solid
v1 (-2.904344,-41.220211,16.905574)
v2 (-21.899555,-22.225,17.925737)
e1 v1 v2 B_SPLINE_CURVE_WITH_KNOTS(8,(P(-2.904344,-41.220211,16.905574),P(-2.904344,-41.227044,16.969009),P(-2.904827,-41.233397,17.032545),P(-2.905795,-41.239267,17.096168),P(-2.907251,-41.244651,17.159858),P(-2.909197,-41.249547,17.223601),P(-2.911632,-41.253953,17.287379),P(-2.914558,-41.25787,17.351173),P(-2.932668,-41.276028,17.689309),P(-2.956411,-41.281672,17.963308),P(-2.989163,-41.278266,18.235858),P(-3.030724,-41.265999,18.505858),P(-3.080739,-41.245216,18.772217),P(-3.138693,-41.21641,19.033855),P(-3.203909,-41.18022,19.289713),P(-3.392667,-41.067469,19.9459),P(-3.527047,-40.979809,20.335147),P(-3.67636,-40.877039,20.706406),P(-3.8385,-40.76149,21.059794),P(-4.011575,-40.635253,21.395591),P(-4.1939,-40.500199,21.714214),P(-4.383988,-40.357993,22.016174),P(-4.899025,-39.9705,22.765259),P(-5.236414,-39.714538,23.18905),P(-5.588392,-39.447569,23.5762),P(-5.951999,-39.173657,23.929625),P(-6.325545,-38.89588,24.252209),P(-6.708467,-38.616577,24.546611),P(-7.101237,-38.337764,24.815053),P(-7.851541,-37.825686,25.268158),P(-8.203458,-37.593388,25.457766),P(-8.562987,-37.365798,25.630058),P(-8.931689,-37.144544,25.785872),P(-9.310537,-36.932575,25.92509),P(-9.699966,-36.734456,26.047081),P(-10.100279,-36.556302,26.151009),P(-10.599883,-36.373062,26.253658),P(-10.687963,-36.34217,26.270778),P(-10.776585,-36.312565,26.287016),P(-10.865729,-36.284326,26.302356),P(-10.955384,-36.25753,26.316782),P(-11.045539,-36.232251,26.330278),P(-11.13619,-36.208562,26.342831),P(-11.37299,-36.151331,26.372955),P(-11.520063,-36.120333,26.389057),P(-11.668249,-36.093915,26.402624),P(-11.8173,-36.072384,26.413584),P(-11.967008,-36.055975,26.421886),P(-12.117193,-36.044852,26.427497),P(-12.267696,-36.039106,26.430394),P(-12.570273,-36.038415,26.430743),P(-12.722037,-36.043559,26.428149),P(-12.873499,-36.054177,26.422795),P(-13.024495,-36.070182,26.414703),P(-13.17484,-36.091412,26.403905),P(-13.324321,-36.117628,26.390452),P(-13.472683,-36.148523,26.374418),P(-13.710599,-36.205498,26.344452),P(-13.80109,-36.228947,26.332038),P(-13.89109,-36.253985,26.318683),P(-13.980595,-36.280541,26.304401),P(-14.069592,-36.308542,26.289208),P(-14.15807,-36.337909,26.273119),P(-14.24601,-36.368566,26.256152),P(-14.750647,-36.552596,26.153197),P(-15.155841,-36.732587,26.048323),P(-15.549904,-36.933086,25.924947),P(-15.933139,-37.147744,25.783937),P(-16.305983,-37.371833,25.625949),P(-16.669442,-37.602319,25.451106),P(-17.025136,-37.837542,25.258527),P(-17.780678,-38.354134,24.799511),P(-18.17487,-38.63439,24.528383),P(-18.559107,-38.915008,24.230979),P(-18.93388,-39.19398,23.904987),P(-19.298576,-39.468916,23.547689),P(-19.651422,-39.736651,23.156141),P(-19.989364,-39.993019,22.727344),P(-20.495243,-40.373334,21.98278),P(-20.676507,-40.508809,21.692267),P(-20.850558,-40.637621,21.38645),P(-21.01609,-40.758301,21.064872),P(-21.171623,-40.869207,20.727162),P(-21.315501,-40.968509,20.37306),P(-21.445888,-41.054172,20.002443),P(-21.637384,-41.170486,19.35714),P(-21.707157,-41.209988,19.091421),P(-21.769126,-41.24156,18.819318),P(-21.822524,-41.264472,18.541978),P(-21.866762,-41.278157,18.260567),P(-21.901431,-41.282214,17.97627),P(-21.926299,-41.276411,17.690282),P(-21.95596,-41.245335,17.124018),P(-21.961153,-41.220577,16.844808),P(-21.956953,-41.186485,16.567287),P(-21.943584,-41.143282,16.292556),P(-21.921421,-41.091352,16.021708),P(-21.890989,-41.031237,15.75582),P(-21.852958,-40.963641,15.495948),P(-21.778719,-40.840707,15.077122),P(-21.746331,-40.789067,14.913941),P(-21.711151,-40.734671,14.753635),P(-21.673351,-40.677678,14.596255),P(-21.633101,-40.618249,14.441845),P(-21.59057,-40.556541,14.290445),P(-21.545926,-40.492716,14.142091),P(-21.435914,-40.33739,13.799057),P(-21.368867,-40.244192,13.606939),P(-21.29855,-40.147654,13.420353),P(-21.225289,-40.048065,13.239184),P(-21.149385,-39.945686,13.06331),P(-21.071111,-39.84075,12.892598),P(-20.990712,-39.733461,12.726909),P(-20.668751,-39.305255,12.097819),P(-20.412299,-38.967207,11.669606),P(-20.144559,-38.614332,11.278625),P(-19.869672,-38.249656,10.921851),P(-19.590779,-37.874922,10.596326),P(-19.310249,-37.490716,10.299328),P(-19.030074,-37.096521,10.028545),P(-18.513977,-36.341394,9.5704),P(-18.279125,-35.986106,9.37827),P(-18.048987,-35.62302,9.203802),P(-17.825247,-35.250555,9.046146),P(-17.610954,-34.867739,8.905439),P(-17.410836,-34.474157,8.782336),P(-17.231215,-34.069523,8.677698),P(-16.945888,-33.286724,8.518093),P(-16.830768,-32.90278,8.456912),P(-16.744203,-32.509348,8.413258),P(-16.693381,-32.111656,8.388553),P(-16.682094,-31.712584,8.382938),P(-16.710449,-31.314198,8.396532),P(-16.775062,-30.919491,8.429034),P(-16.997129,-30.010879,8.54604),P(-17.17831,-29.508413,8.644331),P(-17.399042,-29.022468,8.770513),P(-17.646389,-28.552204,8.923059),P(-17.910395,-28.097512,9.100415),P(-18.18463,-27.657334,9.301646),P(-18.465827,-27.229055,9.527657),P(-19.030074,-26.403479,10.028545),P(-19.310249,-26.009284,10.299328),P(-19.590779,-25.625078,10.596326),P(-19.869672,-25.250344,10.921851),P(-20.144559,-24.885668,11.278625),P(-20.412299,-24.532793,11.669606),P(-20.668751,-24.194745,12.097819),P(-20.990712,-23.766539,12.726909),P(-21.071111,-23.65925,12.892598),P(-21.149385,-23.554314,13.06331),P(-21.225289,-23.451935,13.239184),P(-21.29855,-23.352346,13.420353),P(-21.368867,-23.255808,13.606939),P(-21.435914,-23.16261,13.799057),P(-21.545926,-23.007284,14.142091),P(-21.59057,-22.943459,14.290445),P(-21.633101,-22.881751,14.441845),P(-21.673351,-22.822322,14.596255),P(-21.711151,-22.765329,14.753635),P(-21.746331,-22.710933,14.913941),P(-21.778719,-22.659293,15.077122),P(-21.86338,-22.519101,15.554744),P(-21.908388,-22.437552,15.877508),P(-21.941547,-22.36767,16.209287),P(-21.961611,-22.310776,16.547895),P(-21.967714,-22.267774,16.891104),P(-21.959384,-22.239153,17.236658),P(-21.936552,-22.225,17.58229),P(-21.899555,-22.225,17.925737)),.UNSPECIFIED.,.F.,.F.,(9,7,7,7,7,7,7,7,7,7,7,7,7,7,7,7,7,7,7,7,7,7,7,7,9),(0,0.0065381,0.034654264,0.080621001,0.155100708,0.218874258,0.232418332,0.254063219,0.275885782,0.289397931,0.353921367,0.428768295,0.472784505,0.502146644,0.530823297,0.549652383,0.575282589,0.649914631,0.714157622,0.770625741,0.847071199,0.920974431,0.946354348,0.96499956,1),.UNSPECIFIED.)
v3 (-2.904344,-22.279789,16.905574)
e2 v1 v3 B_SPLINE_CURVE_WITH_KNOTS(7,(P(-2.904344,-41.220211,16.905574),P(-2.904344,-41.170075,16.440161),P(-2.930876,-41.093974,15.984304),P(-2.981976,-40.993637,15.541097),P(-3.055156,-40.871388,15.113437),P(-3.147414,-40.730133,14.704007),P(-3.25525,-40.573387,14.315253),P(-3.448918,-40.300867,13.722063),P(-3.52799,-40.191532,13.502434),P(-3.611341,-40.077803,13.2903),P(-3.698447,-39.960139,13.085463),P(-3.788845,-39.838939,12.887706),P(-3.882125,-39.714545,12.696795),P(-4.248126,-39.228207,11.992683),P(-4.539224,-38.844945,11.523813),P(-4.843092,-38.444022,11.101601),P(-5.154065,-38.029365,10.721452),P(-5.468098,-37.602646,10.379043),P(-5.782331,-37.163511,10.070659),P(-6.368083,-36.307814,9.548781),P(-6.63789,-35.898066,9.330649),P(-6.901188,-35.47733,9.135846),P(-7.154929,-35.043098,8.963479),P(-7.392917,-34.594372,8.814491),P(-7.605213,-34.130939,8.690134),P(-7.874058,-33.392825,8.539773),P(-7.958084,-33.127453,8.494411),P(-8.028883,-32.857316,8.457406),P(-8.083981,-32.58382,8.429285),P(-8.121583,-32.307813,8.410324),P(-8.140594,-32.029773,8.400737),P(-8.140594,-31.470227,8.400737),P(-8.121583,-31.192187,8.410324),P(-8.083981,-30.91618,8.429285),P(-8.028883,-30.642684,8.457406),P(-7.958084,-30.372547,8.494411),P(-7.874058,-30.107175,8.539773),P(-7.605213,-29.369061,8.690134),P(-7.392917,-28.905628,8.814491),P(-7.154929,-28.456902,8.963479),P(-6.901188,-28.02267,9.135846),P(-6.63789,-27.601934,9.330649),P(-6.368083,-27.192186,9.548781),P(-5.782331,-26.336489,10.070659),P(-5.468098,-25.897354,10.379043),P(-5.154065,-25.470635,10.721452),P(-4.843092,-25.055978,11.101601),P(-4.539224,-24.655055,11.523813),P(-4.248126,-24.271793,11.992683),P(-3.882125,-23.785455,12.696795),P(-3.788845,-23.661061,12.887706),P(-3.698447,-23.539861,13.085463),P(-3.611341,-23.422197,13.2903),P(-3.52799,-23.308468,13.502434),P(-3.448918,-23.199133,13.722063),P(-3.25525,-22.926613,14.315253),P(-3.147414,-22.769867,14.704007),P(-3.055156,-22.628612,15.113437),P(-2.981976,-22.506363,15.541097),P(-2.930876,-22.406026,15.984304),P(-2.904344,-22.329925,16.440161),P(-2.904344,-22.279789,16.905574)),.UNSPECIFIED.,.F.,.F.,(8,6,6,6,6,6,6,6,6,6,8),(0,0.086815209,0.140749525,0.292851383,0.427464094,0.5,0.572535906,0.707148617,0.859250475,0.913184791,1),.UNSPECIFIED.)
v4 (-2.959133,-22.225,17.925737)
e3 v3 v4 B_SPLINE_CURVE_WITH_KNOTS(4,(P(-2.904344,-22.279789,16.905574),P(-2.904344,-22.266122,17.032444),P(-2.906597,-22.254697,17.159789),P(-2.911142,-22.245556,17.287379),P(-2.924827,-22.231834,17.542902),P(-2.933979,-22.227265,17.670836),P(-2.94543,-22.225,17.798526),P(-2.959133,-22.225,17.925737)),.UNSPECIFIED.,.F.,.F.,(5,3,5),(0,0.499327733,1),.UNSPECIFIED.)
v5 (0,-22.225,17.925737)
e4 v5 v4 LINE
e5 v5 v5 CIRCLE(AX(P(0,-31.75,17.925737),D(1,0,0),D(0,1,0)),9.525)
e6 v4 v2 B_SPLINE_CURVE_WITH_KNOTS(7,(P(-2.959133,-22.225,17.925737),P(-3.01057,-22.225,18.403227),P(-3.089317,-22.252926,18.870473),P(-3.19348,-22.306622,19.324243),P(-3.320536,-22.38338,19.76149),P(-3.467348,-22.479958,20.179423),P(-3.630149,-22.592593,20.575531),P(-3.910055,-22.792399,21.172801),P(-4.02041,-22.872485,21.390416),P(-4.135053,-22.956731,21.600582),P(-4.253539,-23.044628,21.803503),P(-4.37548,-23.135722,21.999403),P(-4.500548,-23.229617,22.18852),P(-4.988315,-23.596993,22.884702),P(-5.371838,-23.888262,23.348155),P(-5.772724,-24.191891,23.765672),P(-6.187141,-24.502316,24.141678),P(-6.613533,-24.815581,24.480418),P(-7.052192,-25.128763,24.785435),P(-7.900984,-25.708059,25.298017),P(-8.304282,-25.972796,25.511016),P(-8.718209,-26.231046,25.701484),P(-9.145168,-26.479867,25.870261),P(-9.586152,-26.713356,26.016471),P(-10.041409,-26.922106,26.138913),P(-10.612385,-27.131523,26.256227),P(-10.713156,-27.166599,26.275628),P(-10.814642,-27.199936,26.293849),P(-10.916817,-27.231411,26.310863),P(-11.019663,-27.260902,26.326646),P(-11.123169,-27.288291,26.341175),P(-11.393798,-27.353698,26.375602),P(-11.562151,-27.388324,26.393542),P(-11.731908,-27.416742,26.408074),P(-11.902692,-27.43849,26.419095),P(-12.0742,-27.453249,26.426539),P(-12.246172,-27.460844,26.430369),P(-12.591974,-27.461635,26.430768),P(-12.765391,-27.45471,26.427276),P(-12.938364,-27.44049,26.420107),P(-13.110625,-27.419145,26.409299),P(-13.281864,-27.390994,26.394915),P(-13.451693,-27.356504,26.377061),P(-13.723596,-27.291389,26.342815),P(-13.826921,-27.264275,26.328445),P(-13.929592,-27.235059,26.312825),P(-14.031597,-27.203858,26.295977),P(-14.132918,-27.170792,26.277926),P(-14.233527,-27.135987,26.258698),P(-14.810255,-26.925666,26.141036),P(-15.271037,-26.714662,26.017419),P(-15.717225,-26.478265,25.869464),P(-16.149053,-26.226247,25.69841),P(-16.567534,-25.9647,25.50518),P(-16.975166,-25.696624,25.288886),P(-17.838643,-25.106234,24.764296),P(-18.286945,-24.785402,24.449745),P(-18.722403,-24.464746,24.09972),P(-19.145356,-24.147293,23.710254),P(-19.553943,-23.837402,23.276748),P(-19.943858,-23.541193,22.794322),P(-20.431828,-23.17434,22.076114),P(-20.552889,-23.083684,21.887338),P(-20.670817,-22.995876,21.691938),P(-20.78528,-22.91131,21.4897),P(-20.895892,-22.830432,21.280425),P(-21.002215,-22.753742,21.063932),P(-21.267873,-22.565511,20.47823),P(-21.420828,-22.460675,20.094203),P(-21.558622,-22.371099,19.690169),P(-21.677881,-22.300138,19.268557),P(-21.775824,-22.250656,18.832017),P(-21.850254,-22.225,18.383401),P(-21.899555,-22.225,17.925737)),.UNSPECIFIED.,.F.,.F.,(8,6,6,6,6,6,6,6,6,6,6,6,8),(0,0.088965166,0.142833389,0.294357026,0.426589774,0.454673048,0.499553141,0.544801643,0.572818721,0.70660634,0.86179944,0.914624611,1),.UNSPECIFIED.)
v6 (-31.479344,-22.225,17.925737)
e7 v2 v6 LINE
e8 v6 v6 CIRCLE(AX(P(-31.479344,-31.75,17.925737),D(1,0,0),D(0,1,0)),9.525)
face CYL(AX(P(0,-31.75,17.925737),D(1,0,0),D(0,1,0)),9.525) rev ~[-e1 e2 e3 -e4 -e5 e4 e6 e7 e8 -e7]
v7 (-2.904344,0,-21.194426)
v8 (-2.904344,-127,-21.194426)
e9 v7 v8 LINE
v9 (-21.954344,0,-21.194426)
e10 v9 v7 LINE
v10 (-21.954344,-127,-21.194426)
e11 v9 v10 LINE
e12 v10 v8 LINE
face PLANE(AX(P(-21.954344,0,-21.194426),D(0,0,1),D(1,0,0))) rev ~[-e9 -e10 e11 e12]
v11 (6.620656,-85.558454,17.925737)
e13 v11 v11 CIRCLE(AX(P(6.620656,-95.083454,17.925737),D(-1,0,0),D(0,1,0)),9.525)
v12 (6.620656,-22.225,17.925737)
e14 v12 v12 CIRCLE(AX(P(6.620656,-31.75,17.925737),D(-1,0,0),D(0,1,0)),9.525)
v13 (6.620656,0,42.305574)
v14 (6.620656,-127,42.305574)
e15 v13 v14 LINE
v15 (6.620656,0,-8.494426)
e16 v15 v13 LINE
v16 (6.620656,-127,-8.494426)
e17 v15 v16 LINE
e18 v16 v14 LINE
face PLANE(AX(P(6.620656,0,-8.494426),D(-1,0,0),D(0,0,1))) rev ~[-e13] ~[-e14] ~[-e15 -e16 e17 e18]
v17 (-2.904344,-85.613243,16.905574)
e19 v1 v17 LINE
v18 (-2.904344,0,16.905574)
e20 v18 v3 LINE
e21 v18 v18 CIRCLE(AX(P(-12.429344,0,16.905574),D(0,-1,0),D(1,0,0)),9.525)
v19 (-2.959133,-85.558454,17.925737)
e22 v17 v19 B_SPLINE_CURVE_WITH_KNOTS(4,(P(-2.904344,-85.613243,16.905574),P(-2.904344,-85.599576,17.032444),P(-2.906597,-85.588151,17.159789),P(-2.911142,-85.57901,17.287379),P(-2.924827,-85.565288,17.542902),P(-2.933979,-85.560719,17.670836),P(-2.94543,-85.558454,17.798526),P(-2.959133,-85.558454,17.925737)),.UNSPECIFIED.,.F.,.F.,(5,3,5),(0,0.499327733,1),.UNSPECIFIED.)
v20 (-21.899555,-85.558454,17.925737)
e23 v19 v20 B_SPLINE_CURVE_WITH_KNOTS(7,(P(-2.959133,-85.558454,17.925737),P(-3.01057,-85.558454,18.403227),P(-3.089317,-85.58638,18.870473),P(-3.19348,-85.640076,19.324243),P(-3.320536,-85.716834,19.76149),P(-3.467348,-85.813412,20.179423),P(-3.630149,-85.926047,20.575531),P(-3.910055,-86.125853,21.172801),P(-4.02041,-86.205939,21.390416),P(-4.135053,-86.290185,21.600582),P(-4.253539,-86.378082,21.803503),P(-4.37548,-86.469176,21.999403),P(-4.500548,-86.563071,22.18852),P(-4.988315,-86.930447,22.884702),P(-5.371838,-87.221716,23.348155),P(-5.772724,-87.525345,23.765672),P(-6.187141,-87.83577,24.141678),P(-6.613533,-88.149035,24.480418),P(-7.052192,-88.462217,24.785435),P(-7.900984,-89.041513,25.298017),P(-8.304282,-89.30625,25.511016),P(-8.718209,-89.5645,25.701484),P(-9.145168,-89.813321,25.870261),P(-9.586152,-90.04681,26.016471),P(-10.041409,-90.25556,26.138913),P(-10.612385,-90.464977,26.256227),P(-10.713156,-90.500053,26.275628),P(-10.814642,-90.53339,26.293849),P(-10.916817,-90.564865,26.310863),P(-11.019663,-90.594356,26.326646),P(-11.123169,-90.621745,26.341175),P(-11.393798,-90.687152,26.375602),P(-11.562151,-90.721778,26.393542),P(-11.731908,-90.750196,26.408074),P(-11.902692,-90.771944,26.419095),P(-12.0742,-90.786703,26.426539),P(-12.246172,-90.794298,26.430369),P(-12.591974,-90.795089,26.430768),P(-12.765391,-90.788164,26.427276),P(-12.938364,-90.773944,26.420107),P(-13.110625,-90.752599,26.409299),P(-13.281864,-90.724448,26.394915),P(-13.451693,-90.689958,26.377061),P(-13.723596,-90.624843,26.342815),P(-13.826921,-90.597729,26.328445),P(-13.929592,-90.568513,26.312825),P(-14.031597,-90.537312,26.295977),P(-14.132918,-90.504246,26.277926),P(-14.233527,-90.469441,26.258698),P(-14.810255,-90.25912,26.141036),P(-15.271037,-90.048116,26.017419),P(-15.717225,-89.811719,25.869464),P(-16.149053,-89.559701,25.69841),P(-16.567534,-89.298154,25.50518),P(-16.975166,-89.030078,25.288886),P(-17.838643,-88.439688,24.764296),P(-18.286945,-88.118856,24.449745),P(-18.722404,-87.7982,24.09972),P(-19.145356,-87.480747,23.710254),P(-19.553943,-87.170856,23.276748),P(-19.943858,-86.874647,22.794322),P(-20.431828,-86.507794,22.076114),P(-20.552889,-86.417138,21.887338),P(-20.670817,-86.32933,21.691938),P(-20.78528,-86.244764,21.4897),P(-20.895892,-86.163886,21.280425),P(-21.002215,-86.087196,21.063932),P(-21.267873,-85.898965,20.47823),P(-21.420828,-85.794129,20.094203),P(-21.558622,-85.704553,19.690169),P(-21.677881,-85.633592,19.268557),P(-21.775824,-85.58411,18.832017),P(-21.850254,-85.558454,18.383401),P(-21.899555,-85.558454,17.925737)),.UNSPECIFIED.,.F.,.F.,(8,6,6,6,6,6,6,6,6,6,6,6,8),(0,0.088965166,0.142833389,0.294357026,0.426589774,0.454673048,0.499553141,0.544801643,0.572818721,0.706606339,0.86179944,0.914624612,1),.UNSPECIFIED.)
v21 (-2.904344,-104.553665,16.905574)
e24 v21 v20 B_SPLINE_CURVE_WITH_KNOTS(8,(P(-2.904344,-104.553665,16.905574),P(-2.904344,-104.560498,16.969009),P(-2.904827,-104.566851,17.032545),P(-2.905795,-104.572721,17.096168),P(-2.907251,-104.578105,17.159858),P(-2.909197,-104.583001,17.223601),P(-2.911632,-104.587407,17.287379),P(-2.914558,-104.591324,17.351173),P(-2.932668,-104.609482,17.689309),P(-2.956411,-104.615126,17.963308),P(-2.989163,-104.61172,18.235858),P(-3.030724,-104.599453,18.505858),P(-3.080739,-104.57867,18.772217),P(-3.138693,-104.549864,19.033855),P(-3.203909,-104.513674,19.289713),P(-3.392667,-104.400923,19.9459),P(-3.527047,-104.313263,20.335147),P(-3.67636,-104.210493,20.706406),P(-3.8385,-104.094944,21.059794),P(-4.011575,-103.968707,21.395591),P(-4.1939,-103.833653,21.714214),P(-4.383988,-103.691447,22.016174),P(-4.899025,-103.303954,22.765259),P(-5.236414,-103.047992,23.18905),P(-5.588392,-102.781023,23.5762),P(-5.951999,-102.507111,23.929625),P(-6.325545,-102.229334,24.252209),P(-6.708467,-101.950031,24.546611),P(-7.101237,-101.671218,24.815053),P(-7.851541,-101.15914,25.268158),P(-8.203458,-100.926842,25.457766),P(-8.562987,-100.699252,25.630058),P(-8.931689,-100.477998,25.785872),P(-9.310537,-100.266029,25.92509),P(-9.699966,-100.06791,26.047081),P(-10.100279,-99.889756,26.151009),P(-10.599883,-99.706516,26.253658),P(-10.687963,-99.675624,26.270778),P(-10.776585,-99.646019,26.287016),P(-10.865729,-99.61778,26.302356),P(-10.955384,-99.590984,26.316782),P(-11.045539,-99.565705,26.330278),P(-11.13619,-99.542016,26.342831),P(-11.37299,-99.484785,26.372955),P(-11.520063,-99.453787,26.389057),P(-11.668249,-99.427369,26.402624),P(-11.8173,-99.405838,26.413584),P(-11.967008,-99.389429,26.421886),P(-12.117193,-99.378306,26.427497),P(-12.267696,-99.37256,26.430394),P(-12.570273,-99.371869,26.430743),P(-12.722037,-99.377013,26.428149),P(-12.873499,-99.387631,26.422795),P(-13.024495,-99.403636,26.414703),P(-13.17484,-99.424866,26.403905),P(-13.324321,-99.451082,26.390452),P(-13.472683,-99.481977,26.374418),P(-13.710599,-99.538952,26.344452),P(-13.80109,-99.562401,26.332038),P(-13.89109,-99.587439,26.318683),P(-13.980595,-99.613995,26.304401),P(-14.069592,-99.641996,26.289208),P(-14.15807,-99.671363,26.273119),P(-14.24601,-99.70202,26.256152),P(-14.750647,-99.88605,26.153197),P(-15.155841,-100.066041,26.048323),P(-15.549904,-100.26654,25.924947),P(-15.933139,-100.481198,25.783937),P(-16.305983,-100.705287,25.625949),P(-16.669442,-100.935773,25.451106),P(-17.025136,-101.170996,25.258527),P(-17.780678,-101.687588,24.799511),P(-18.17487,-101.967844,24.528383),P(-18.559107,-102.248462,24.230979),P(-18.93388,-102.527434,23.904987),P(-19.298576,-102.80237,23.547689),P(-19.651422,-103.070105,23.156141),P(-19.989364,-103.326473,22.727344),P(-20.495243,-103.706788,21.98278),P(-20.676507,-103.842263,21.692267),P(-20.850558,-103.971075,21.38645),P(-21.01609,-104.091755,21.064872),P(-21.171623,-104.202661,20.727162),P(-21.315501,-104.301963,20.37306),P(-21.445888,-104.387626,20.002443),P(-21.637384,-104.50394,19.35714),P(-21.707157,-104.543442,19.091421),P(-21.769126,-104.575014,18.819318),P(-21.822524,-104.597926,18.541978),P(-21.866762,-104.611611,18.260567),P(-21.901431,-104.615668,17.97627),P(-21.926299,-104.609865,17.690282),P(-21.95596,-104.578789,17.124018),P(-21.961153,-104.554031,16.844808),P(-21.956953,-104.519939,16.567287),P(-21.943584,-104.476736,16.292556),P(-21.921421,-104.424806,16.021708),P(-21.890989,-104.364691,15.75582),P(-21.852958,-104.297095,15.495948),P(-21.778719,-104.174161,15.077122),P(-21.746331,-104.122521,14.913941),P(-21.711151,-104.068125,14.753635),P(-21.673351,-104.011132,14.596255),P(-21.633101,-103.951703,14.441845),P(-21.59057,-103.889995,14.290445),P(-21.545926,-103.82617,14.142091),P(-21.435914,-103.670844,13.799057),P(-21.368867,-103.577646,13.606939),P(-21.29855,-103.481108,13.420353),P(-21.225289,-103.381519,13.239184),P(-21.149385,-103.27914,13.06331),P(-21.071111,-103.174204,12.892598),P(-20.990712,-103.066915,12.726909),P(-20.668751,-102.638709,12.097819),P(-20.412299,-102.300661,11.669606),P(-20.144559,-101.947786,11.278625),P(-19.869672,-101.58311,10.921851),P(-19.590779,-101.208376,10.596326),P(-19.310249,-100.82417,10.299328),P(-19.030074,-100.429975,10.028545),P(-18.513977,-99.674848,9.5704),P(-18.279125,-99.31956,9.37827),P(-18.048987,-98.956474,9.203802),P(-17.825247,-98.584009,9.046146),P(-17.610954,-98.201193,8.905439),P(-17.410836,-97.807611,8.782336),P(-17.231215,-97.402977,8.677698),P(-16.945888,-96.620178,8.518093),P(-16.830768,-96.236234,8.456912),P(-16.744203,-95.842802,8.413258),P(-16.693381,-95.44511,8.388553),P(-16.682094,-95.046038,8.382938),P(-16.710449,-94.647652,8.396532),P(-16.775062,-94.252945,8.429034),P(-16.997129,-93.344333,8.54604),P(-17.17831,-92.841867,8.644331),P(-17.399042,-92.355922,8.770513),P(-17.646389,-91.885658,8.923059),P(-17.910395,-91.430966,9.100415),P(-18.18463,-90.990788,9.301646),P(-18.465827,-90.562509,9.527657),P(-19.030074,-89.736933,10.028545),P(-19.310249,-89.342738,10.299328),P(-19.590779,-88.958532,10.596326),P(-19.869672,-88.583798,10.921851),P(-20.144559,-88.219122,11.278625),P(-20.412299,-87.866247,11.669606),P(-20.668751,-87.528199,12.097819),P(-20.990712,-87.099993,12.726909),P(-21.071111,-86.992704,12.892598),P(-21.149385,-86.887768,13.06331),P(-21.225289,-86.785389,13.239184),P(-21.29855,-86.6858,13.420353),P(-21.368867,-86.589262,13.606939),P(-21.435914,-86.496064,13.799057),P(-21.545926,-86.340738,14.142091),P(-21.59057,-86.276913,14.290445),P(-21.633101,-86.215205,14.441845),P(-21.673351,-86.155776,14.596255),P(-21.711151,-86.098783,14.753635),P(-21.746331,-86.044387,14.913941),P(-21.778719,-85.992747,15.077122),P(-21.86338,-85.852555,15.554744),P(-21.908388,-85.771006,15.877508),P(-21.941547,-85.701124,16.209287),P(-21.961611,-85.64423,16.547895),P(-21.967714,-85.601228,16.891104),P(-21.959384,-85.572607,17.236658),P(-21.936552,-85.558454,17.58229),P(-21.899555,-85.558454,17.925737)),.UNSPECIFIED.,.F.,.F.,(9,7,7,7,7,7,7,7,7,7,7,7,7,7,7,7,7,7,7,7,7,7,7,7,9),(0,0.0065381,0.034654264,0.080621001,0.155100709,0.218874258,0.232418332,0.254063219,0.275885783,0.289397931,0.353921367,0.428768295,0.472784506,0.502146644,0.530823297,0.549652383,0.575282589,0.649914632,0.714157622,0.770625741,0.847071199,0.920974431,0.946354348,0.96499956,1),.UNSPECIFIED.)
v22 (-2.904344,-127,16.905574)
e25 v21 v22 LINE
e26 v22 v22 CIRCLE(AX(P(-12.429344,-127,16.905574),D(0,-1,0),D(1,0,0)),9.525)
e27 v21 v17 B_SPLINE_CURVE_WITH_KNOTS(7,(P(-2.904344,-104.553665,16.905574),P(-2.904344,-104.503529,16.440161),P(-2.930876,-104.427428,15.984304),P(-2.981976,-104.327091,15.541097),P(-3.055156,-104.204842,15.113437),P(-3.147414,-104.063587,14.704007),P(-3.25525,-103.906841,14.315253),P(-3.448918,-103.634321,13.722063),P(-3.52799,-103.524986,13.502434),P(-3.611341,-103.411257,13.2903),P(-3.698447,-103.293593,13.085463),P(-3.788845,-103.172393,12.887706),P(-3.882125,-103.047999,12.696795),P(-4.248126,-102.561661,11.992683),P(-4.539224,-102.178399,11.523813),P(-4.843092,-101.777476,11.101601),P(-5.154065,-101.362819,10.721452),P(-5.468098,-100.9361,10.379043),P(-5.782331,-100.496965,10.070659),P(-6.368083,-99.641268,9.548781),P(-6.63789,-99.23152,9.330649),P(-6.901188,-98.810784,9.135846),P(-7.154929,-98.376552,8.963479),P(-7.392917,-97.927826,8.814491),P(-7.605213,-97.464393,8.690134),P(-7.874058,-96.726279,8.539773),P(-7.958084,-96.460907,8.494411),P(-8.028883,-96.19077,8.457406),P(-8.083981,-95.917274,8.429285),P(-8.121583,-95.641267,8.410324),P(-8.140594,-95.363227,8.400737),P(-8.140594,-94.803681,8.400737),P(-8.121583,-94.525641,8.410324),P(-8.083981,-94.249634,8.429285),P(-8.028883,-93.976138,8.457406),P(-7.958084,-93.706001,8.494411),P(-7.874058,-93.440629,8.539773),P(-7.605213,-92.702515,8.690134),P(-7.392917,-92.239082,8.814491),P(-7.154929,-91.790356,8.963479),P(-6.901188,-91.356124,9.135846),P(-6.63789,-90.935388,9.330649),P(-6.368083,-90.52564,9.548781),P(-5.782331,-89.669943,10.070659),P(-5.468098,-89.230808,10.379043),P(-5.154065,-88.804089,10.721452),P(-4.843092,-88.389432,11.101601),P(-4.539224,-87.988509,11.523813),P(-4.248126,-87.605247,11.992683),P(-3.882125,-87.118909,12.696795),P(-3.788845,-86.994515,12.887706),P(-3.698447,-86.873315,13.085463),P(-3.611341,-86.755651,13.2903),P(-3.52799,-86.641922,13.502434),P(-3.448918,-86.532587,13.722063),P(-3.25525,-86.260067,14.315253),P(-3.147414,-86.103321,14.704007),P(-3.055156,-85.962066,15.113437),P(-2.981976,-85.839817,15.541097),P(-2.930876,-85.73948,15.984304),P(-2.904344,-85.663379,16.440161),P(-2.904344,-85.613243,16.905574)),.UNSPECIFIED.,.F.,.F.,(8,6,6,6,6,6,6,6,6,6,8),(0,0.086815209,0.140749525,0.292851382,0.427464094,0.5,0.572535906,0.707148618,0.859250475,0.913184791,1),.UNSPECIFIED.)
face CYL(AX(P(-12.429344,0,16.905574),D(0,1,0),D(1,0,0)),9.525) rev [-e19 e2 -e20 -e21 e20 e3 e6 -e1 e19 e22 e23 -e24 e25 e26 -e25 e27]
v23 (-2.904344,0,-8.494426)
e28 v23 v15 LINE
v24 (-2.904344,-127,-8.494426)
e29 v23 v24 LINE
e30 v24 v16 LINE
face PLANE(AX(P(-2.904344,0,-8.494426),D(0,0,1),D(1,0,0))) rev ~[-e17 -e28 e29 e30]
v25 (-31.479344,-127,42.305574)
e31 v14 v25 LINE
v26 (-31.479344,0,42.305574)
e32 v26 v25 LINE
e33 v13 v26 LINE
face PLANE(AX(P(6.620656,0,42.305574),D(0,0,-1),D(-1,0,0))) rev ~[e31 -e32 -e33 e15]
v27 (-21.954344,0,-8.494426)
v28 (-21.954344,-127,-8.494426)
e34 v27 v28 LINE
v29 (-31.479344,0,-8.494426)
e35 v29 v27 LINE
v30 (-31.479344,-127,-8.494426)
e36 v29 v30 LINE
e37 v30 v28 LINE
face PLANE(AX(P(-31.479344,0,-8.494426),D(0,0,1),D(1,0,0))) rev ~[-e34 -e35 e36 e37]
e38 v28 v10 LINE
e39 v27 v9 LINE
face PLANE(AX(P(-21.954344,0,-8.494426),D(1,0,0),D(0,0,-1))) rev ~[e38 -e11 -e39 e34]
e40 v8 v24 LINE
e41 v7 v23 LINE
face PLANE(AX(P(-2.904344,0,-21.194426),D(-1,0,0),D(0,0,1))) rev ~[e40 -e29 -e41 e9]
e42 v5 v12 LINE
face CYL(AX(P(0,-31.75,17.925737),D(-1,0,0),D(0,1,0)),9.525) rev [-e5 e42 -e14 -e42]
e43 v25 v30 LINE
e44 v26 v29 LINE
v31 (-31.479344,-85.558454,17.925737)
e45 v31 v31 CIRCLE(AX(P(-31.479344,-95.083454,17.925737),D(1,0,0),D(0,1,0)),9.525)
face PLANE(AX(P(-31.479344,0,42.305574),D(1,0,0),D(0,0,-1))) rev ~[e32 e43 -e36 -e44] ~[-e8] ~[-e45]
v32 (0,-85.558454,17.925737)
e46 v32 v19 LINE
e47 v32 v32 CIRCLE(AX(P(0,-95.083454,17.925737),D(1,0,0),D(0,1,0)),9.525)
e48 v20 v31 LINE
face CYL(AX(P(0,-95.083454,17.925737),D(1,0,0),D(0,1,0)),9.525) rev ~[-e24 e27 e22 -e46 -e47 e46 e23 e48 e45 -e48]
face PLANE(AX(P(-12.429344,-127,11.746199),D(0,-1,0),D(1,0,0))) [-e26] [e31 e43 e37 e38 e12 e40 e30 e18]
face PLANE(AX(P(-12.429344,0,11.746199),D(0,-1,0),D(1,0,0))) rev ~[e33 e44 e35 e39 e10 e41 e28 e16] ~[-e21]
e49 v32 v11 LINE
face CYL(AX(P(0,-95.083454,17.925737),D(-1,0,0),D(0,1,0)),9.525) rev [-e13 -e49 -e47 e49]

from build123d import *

# Parameters (mm, degrees)
F0_R          = 9.525
F1_DEPTH      = 127
F2_R          = 9.525
F3_DEPTH      = 24.892
F3_DEPTH_BACK = 62.992


with BuildPart() as f1:
    # F0 (on Front) → F1 (new body)
    with BuildSketch(Plane.XZ):
        Polygon((6.620656, 42.305574), (-31.479344, 42.305574), (-31.479344, -8.494426), (-21.954344, -8.494426), (-21.954344, -21.194426), (-2.904344, -21.194426), (-2.904344, -8.494426), (6.620656, -8.494426), align=None)
        with Locations((-12.429344, 16.905574)):
            Circle(F0_R, mode=Mode.SUBTRACT)
    extrude(amount=F1_DEPTH)

    # F2 (on Right) → F3 (cut, two sides)
    with BuildSketch(Plane.YZ) as f3_sk:
        with Locations((-31.75, 17.925737)):
            Circle(F2_R)
        with Locations((-95.083454, 17.925737)):
            Circle(F2_R)
    extrude(amount=F3_DEPTH, mode=Mode.SUBTRACT)
    extrude(f3_sk.sketch, amount=-F3_DEPTH_BACK, mode=Mode.SUBTRACT)


solid = f1.part
